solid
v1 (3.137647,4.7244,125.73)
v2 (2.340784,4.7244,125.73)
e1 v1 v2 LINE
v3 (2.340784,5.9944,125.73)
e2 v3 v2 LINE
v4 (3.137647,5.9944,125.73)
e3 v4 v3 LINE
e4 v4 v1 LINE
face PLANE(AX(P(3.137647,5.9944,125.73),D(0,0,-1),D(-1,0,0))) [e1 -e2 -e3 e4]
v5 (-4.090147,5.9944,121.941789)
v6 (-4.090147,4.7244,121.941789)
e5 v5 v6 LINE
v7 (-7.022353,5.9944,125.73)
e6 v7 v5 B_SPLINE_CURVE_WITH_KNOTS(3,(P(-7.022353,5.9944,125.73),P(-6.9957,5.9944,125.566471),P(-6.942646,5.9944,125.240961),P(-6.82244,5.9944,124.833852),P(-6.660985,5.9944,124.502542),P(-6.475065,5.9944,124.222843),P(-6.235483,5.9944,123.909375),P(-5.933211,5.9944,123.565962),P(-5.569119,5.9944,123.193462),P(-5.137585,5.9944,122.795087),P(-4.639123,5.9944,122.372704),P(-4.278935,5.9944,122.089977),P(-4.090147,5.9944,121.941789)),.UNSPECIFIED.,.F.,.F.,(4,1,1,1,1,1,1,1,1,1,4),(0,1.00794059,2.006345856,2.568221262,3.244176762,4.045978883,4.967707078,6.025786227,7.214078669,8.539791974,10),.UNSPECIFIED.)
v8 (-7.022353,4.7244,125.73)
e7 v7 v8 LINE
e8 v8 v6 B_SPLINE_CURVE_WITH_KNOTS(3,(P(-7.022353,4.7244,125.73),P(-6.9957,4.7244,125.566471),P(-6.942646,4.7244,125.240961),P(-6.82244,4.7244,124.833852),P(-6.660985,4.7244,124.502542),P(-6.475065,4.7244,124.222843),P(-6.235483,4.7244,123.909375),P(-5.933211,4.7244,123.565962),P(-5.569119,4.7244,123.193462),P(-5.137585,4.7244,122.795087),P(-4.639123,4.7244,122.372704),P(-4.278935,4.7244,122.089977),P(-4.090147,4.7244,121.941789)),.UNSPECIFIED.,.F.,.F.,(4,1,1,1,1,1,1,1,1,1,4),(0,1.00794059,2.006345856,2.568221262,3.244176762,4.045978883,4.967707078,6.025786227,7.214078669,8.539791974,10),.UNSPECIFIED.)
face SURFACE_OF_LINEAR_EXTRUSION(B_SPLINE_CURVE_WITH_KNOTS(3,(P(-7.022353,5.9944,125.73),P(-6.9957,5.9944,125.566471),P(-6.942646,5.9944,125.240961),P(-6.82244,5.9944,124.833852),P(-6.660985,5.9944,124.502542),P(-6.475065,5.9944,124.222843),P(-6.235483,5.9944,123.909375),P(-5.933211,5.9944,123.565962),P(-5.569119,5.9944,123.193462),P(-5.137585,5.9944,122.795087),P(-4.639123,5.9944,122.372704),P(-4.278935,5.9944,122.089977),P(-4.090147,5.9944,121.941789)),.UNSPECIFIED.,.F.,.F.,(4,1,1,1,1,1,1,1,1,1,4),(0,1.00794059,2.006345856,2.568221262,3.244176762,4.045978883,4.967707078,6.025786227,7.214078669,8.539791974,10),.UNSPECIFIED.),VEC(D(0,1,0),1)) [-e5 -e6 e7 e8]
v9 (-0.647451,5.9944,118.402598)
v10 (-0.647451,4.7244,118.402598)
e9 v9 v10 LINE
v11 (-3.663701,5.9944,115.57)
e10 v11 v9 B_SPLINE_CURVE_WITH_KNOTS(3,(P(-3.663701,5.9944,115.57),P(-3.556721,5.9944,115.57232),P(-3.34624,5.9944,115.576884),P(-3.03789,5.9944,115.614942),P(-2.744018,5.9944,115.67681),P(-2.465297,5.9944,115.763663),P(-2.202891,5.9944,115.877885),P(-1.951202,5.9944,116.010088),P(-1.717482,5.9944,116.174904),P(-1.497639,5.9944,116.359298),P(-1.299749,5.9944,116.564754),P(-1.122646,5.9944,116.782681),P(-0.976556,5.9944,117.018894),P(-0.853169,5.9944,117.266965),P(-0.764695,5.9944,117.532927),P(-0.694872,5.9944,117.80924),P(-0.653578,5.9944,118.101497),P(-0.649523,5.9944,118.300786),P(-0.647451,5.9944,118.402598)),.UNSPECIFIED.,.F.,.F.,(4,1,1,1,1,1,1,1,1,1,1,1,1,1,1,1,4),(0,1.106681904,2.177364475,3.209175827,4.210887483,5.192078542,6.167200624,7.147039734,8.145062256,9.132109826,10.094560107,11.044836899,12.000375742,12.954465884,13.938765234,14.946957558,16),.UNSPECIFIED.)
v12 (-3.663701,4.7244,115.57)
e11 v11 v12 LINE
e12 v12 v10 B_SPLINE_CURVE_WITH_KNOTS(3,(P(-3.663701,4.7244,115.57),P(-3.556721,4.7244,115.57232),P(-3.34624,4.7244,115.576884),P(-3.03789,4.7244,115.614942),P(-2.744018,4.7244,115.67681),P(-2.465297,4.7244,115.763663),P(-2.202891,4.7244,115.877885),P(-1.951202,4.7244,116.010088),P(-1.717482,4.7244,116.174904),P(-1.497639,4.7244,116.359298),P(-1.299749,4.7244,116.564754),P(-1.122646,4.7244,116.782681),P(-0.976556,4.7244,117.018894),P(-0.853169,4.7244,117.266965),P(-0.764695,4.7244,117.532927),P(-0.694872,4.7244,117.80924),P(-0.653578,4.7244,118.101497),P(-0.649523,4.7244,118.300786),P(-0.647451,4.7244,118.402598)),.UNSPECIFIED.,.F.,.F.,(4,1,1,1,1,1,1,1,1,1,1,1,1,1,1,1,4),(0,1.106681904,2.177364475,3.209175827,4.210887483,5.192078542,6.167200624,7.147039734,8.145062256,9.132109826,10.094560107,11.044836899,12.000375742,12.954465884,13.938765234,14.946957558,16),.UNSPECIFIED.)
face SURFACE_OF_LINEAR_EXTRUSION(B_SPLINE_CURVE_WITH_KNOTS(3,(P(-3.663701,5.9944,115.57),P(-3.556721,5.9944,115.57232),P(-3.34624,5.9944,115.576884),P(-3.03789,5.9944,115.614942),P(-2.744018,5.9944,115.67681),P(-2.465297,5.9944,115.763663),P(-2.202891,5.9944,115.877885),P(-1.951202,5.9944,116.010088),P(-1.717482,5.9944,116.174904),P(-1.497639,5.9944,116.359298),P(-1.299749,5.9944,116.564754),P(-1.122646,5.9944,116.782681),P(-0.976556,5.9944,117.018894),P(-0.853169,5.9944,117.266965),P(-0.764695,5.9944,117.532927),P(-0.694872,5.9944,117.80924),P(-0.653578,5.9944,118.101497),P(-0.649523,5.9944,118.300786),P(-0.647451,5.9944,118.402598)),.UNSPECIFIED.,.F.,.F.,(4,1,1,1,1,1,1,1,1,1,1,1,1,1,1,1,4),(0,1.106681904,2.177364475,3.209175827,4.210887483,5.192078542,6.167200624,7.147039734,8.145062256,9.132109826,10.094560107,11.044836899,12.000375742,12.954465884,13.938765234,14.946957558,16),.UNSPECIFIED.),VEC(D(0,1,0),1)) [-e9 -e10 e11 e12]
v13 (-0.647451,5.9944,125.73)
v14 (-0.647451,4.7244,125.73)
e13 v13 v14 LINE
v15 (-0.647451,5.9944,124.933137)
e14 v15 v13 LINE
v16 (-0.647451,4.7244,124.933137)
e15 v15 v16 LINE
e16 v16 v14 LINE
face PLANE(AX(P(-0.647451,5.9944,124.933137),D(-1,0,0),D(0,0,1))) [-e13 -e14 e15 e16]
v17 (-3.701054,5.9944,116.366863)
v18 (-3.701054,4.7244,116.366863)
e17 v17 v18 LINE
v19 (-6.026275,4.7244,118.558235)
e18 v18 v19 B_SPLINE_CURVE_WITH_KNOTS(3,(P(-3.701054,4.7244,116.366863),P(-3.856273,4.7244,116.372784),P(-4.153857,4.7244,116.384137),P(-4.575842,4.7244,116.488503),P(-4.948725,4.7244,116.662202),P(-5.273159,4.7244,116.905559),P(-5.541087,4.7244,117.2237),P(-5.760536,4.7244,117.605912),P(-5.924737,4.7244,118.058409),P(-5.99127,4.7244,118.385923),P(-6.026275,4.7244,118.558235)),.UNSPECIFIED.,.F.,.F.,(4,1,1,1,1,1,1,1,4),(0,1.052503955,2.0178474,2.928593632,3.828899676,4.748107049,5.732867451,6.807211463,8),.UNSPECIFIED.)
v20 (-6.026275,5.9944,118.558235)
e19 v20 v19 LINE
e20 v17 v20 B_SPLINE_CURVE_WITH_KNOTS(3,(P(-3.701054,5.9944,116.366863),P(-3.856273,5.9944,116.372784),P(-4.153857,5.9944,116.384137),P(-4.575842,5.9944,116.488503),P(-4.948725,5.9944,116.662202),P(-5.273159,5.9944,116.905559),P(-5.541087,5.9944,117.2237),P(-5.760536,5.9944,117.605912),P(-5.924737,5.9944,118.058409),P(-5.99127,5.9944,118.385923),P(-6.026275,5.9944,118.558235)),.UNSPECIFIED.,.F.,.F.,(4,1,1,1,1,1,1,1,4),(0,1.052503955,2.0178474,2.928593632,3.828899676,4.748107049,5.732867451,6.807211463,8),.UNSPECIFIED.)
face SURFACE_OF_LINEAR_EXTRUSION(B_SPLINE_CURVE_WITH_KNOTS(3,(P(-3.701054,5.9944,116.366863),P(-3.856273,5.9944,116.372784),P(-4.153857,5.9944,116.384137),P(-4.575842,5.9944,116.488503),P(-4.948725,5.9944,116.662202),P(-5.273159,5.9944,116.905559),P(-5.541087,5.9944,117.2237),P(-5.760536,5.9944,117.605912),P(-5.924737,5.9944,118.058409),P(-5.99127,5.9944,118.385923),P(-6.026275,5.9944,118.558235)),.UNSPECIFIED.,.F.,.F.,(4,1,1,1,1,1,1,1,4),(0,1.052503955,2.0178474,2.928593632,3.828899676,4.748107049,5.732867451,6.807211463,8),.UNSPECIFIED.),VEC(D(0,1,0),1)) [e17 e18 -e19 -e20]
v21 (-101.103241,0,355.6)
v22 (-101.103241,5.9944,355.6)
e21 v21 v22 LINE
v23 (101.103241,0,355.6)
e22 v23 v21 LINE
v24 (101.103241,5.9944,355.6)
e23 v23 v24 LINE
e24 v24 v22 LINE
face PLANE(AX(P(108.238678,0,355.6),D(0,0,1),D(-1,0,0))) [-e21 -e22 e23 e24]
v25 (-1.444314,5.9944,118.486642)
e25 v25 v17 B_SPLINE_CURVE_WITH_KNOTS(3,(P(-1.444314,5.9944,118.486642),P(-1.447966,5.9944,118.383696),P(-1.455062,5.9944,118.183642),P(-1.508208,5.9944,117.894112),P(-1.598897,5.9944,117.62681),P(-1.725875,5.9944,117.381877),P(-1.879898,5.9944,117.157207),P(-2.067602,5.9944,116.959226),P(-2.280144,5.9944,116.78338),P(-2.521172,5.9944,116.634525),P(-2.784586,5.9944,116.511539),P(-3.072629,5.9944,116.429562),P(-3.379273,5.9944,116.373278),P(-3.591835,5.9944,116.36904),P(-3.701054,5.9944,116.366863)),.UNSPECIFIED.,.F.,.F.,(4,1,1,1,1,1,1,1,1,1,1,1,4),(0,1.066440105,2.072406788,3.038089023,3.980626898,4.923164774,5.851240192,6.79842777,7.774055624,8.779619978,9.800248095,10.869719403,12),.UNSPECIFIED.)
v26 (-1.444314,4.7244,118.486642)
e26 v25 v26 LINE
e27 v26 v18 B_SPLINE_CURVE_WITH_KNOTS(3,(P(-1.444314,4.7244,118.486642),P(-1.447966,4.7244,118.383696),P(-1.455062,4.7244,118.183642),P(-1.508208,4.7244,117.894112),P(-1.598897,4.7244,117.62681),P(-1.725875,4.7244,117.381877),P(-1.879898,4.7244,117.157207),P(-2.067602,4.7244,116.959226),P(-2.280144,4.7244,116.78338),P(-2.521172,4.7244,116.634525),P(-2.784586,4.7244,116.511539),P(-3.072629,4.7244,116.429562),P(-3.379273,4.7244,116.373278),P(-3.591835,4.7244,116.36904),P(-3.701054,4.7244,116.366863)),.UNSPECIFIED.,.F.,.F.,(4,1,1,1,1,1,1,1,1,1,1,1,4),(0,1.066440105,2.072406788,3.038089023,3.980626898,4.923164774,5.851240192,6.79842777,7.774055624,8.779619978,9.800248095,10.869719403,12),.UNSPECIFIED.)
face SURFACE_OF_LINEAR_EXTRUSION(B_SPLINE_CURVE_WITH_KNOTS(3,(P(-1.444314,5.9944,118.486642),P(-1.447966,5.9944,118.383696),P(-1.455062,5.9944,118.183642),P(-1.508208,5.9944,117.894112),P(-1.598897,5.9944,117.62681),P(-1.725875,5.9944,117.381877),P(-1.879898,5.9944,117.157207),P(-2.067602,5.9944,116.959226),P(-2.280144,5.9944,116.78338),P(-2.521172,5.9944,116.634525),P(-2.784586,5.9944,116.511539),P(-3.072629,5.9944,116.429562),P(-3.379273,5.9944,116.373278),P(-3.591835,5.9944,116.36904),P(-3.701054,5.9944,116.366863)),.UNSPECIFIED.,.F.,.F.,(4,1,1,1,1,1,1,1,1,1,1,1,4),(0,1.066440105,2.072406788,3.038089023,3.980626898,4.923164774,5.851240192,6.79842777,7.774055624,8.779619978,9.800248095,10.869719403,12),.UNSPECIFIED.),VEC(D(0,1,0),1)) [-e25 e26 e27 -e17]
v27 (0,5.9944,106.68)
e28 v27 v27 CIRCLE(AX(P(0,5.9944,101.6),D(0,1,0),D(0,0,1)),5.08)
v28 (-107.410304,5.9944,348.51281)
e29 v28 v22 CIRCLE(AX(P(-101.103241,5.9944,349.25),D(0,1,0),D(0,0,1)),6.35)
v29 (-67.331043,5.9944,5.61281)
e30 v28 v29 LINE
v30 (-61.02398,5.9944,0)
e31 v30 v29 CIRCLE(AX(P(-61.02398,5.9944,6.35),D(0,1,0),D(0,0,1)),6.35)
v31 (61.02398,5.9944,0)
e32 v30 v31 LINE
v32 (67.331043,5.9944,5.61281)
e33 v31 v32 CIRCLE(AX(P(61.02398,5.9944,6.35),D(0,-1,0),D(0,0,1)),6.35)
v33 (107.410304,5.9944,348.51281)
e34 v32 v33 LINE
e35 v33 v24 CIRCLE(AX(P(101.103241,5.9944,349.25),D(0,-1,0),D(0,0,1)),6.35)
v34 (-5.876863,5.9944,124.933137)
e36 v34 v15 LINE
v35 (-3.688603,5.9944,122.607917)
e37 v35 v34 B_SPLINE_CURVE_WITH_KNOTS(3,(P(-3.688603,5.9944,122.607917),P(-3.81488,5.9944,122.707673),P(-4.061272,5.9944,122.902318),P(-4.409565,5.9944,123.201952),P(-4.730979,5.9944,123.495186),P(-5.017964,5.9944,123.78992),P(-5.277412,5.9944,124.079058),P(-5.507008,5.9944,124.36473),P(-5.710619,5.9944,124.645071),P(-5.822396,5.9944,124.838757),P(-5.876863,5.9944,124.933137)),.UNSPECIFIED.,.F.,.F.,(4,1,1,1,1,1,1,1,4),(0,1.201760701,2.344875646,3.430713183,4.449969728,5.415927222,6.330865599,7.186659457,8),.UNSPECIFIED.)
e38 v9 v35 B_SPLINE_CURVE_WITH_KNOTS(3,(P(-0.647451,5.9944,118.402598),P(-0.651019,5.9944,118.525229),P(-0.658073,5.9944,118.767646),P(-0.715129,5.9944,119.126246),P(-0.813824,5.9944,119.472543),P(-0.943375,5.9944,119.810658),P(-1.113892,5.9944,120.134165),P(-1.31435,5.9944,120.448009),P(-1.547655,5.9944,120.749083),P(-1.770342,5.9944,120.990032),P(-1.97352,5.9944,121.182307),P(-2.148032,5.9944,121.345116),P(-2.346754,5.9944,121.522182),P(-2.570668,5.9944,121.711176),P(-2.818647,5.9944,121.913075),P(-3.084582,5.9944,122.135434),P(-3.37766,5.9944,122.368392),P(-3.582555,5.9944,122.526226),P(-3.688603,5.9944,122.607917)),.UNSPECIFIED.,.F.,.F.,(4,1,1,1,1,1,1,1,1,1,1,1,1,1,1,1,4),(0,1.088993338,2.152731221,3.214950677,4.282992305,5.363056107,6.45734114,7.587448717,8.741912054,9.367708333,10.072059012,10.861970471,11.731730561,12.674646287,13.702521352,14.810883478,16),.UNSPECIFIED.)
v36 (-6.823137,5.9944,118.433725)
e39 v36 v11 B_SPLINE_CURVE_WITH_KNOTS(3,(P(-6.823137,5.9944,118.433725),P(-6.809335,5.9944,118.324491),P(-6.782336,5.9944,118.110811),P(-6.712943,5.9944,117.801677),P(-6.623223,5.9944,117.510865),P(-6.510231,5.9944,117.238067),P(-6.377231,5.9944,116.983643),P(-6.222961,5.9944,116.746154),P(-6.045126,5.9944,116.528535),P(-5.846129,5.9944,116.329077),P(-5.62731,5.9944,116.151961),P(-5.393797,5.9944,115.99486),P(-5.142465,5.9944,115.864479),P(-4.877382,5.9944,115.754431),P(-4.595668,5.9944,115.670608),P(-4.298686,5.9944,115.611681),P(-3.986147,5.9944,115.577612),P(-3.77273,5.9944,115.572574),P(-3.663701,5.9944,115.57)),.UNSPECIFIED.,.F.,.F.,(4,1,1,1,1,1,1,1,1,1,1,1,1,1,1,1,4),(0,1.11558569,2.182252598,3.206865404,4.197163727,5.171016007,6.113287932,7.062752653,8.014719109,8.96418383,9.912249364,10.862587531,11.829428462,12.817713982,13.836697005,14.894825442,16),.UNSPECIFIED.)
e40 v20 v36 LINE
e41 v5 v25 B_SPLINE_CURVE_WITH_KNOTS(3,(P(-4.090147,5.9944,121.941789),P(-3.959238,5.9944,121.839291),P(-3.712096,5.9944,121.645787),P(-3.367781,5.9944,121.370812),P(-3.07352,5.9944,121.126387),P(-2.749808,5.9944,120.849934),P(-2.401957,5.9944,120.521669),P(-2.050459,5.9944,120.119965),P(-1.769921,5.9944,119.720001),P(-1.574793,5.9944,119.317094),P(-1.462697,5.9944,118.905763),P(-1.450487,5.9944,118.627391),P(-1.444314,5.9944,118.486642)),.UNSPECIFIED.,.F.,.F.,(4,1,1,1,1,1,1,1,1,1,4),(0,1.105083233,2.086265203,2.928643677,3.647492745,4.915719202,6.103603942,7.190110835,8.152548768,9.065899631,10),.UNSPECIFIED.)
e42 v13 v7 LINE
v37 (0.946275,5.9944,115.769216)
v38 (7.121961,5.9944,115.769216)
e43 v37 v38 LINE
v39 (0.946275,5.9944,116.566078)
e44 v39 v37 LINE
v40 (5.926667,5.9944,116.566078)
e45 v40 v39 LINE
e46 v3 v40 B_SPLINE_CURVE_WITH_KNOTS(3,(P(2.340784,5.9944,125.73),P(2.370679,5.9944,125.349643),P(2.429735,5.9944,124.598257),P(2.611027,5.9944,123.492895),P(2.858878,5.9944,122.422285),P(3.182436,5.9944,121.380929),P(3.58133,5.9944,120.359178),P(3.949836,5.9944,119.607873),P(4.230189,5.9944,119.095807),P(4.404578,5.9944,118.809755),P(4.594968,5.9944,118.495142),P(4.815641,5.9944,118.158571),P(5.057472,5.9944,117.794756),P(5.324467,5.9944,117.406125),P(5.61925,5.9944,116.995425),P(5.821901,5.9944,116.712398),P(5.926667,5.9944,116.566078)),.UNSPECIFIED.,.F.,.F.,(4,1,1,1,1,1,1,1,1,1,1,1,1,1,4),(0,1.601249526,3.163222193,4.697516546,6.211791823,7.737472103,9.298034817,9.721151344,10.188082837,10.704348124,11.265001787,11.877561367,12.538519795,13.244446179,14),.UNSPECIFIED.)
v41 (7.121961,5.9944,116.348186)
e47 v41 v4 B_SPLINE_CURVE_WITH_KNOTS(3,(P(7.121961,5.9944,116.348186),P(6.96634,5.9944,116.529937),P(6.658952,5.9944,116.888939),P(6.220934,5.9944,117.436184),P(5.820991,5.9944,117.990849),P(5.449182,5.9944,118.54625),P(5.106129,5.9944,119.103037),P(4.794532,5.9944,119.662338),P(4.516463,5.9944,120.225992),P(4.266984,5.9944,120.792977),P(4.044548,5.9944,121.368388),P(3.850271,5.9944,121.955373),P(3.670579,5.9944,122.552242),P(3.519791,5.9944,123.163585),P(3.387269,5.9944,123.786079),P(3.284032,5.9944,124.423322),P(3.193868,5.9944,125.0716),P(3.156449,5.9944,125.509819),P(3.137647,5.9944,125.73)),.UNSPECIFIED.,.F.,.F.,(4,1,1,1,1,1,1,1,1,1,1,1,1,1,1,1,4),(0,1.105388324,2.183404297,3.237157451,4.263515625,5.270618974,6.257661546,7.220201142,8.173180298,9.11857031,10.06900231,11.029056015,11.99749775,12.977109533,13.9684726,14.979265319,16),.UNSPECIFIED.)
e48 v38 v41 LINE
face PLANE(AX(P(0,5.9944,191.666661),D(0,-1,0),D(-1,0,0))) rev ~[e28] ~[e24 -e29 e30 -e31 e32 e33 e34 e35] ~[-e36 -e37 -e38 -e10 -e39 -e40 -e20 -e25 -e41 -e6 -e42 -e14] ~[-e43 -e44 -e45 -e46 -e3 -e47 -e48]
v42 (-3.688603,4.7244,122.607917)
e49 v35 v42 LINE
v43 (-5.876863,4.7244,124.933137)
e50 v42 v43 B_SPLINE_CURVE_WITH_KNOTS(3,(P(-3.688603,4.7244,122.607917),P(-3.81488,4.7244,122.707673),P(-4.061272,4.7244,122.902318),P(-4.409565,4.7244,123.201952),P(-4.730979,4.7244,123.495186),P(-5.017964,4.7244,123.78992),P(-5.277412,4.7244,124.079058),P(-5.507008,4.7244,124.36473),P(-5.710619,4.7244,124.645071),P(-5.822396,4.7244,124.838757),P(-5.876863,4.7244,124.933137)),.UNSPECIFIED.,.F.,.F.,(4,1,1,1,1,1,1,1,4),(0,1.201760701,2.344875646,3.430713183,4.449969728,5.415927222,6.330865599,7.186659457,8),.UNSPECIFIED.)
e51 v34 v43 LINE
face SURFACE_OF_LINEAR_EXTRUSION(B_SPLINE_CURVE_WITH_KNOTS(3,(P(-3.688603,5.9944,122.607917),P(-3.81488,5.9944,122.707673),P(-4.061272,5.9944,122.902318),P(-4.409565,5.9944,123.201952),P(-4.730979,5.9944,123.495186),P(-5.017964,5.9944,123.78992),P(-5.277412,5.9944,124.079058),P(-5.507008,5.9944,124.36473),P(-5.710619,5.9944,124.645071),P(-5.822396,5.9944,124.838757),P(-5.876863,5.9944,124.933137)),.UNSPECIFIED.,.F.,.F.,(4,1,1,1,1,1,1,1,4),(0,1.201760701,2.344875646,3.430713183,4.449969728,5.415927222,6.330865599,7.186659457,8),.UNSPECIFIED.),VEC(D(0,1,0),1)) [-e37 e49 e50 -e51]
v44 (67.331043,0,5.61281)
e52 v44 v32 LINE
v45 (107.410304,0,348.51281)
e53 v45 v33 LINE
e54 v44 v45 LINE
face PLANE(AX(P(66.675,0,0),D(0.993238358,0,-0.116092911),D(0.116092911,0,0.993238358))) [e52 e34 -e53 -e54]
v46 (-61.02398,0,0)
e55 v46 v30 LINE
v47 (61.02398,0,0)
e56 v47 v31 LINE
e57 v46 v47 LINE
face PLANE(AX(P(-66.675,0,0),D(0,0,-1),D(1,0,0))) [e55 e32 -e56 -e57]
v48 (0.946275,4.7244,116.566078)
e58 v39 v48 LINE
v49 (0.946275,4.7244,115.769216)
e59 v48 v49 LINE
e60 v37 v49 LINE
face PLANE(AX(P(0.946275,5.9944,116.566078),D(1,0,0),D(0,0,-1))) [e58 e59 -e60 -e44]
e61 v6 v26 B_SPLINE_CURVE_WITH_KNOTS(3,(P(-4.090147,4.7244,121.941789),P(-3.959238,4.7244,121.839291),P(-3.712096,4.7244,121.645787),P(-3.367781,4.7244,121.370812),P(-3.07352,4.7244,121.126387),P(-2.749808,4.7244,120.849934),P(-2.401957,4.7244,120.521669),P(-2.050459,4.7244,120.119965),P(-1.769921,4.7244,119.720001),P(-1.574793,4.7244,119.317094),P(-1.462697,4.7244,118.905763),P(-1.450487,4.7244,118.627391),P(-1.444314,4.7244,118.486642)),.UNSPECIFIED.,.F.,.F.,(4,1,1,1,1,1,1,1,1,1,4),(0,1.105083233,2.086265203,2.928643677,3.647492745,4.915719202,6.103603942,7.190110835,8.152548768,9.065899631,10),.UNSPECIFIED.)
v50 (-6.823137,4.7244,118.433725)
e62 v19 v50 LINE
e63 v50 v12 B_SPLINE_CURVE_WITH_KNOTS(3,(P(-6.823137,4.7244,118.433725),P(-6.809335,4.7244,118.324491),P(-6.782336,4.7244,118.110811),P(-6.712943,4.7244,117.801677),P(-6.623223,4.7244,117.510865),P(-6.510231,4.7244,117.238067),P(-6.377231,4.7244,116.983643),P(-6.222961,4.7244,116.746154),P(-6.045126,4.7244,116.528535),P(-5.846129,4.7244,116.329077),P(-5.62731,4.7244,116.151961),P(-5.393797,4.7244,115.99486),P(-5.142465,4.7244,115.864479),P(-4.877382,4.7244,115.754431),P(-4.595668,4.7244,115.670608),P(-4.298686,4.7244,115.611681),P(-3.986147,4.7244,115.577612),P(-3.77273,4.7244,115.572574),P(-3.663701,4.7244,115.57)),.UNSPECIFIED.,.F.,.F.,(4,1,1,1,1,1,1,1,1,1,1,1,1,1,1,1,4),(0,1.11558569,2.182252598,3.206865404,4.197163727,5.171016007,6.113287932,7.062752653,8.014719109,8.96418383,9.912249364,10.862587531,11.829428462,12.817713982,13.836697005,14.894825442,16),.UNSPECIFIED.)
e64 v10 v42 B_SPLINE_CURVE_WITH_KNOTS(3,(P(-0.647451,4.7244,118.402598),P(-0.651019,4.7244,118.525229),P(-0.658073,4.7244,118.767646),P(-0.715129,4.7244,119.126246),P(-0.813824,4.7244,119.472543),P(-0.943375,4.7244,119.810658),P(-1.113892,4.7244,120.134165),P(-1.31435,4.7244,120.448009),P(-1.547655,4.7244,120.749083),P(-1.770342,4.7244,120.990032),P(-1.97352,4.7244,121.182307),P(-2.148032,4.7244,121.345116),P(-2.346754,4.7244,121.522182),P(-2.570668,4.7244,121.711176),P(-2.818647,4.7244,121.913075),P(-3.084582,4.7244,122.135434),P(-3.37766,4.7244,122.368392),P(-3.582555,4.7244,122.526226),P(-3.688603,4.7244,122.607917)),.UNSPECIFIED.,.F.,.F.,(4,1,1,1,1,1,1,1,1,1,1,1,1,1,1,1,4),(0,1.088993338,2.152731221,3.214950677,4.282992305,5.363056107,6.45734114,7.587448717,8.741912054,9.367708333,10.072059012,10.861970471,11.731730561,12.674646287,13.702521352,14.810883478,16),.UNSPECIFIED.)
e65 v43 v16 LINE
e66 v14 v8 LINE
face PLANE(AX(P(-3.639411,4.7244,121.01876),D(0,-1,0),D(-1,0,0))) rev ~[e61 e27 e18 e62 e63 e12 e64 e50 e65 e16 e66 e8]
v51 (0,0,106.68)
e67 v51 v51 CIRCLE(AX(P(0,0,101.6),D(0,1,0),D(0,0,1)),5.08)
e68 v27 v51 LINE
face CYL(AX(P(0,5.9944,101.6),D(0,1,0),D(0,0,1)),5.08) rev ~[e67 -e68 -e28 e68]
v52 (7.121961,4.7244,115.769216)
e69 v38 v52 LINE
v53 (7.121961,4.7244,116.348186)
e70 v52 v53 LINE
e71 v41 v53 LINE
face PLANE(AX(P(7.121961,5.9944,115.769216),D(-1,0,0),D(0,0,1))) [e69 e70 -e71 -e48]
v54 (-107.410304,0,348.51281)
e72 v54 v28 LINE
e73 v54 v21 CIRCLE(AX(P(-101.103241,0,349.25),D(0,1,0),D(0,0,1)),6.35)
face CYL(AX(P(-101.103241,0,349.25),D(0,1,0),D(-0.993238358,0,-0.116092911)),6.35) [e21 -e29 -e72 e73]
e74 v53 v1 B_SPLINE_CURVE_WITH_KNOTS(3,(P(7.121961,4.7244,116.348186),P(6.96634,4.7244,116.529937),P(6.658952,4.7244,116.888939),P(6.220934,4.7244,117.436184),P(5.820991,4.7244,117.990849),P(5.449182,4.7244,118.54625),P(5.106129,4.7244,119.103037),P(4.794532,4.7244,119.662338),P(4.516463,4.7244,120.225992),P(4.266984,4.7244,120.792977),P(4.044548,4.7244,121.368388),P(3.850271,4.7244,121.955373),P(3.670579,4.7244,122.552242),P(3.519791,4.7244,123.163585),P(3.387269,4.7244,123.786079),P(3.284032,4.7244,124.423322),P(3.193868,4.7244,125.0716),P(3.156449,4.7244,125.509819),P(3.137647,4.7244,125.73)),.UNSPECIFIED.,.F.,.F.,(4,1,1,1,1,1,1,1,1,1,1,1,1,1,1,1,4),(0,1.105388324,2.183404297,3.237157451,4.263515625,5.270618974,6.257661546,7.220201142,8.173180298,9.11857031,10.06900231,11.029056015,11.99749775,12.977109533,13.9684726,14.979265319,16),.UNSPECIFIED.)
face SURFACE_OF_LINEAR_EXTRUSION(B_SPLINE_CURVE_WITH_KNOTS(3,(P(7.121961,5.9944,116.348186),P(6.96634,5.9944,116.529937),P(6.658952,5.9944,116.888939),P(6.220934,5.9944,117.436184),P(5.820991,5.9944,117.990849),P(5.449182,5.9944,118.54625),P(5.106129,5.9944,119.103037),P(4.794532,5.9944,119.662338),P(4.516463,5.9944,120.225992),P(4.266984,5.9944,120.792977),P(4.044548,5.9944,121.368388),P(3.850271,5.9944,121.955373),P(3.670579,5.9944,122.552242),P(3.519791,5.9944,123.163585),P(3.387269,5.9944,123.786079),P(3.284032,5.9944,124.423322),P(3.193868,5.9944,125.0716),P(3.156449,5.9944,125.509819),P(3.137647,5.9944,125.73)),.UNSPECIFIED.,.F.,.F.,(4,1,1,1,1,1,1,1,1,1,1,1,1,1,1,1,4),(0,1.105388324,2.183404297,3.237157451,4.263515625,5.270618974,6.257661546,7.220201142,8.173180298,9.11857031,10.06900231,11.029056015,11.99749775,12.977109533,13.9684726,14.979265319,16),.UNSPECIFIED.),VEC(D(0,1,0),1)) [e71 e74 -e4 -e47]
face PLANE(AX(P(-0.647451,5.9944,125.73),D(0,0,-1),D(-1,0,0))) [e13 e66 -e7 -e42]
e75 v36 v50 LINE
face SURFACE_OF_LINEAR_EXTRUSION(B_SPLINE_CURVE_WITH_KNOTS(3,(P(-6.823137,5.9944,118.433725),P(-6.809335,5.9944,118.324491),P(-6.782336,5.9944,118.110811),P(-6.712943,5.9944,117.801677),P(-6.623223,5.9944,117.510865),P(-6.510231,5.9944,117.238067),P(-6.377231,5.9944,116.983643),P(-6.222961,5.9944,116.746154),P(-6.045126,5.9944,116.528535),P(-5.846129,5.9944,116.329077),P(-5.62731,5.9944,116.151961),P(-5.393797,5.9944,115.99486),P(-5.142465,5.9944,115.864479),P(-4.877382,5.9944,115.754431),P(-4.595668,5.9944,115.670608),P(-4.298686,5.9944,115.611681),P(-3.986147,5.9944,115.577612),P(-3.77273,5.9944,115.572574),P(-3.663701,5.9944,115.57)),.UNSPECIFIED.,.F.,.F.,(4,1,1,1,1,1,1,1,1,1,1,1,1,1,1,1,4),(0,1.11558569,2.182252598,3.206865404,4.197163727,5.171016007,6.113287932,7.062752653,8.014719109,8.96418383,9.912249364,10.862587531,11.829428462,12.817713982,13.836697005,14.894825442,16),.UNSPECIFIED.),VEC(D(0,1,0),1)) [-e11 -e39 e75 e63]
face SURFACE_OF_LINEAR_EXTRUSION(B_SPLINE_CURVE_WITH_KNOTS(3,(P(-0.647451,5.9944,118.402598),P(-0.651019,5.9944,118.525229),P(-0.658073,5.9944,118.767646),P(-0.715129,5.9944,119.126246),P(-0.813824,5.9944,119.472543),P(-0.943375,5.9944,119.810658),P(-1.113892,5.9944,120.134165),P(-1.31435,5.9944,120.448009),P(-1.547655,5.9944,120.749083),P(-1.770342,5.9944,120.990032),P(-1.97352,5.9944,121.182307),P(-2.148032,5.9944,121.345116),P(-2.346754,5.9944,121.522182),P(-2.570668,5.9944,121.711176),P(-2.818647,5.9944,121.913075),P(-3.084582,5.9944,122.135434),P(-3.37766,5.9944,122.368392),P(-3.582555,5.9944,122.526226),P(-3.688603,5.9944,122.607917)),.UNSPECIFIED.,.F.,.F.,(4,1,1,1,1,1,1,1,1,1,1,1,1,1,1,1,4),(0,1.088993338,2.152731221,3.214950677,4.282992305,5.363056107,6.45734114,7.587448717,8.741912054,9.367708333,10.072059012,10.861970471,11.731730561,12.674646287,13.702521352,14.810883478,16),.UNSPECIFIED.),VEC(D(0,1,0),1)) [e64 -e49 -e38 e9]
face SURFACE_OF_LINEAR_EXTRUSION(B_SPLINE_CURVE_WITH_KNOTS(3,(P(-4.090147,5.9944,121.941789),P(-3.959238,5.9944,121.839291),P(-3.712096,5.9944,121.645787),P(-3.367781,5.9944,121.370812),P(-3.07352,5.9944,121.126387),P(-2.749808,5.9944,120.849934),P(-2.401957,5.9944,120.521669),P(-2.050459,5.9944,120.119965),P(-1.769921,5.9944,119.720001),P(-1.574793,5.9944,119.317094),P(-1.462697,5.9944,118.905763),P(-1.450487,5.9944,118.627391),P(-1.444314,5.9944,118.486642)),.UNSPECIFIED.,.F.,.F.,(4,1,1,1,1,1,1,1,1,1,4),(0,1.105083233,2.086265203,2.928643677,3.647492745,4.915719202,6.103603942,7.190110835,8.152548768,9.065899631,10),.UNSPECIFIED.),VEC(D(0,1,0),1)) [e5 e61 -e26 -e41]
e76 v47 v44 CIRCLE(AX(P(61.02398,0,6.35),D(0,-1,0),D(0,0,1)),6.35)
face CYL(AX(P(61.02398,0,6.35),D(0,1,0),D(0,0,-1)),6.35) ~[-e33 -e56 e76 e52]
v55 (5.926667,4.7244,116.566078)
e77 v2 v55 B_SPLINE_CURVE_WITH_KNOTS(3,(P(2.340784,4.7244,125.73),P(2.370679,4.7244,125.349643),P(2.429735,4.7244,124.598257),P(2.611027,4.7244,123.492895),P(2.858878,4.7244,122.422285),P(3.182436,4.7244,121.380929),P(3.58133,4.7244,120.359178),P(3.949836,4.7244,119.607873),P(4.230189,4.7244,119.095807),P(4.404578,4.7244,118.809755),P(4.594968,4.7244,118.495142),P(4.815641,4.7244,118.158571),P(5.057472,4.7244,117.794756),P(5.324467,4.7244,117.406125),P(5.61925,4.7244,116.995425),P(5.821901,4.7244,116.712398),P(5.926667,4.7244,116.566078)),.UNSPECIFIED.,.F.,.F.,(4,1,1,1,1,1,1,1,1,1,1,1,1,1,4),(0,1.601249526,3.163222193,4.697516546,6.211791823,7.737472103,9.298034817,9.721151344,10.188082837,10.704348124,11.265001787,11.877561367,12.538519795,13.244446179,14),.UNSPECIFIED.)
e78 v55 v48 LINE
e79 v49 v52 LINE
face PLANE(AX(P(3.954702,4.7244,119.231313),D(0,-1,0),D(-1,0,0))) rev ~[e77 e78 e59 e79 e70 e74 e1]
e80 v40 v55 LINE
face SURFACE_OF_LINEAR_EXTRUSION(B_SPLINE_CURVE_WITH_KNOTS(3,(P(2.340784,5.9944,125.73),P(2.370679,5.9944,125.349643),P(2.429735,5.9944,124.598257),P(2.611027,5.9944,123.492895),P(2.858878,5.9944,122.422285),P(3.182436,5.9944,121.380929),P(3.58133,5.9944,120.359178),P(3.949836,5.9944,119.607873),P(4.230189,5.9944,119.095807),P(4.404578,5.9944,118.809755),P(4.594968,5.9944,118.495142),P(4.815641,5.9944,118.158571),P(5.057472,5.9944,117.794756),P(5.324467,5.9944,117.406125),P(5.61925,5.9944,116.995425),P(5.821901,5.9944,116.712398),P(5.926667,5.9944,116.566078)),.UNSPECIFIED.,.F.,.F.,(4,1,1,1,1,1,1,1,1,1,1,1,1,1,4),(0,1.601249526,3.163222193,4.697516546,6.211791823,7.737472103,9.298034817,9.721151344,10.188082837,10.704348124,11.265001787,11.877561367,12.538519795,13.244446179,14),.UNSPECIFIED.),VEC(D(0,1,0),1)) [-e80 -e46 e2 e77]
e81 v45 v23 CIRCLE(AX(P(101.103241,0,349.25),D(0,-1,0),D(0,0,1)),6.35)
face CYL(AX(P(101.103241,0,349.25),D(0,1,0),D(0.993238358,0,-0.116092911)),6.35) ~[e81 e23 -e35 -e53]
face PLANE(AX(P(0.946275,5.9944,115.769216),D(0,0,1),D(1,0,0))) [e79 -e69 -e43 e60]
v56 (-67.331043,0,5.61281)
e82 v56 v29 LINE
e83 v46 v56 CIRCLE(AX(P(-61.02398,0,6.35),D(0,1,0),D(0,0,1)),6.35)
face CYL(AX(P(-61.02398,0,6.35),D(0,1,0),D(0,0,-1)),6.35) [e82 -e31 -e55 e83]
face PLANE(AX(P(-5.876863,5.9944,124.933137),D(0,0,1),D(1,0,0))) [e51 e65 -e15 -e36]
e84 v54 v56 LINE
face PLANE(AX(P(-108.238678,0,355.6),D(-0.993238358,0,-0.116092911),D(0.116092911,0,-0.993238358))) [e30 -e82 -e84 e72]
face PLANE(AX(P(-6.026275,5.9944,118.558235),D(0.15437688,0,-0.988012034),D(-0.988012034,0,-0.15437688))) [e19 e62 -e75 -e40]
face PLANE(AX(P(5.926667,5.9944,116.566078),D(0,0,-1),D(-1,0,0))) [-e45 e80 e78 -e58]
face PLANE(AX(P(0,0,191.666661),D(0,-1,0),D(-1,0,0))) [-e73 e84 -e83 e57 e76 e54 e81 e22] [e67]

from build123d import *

# Parameters (mm, degrees)
BOSS_EXTRUDE1_DEPTH = 5.9944
SKETCH2_R           = 5.08
CUT_EXTRUDE1_DEPTH  = 372.756512027
CUT_EXTRUDE2_DEPTH  = 1.27
FILLET1_R           = 6.35


with BuildPart() as part:
    # Sketch1 → Boss-Extrude1 (new body)
    with BuildSketch(Plane(origin=(0, 0, 0), x_dir=(1, 0, 0), z_dir=(0, 1, 0))):
        Polygon((-66.675, 0), (66.675, 0), (108.238677943, -355.6), (-108.238677943, -355.6), align=None)
    extrude(amount=BOSS_EXTRUDE1_DEPTH)

    # Sketch2 → Cut-Extrude1 (cut, through all)
    with BuildSketch(Plane(origin=(0, 5.9944, 0), x_dir=(1, 0, 0), z_dir=(0, 1, 0))):
        with Locations(Location((0, -101.6, 0), (0, 0, 270))):
            Circle(SKETCH2_R)
    extrude(amount=-CUT_EXTRUDE1_DEPTH, mode=Mode.SUBTRACT)

    # Sketch3 → Cut-Extrude2 (cut)
    with BuildSketch(Plane(origin=(0, 5.9944, 0), x_dir=(1, 0, 0), z_dir=(0, 1, 0))):
        with BuildLine():
            Line((-0.64745098, -125.73), (-7.022352941, -125.73))
            add(Edge.make_bspline(
                [(-7.022352941, -125.73), (-6.995700037, -125.56647139), (-6.94264637, -125.240961184), (-6.822439521, -124.833851847), (-6.660985096, -124.502541973), (-6.475064564, -124.222842773), (-6.235482524, -123.909374898), (-5.933210944, -123.565961589), (-5.569119359, -123.193461978), (-5.137584514, -122.795086731), (-4.639123135, -122.372704423), (-4.278935295, -122.089977316), (-4.090147059, -121.941789216)],
                knots=[0, 0, 0, 0, 1.00794059, 2.006345856, 2.568221262, 3.244176762, 4.045978883, 4.967707078, 6.025786227, 7.214078669, 8.539791974, 10, 10, 10, 10], degree=3))
            add(Edge.make_bspline(
                [(-4.090147059, -121.941789216), (-3.959237505, -121.839291022), (-3.712095896, -121.645786669), (-3.367780634, -121.370812364), (-3.073520037, -121.12638684), (-2.749807849, -120.849934026), (-2.401956914, -120.521669006), (-2.050459284, -120.119964738), (-1.769921232, -119.720001197), (-1.574792785, -119.317093709), (-1.462696622, -118.90576348), (-1.450487068, -118.627391436), (-1.444313725, -118.486642157)],
                knots=[0, 0, 0, 0, 1.105083233, 2.086265203, 2.928643677, 3.647492745, 4.915719202, 6.103603942, 7.190110835, 8.152548768, 9.065899631, 10, 10, 10, 10], degree=3))
            add(Edge.make_bspline(
                [(-1.444313725, -118.486642157), (-1.447965678, -118.383696155), (-1.455062496, -118.183641793), (-1.508208178, -117.89411156), (-1.598896834, -117.626810225), (-1.725875028, -117.381877206), (-1.879897972, -117.157206868), (-2.067602091, -116.959226462), (-2.280144186, -116.783379567), (-2.521172126, -116.634524628), (-2.784585903, -116.511539466), (-3.072628503, -116.429562416), (-3.379272721, -116.373277743), (-3.591834853, -116.369040126), (-3.701053922, -116.366862745)],
                knots=[0, 0, 0, 0, 1.066440105, 2.072406788, 3.038089023, 3.980626898, 4.923164774, 5.851240192, 6.79842777, 7.774055624, 8.779619978, 9.800248095, 10.869719403, 12, 12, 12, 12], degree=3))
            add(Edge.make_bspline(
                [(-3.701053922, -116.366862745), (-3.856272912, -116.372784339), (-4.153856816, -116.384137145), (-4.575842478, -116.488503349), (-4.94872481, -116.662202163), (-5.273158686, -116.90555858), (-5.541086806, -117.223699711), (-5.760536331, -117.605911882), (-5.924737114, -118.058408876), (-5.991270058, -118.385922919), (-6.02627451, -118.558235294)],
                knots=[0, 0, 0, 0, 1.052503955, 2.0178474, 2.928593632, 3.828899676, 4.748107049, 5.732867451, 6.807211463, 8, 8, 8, 8], degree=3))
            Line((-6.02627451, -118.558235294), (-6.823137255, -118.43372549))
            add(Edge.make_bspline(
                [(-6.823137255, -118.43372549), (-6.80933515, -118.324490516), (-6.782336166, -118.110810556), (-6.71294302, -117.80167694), (-6.623223382, -117.510865089), (-6.510230906, -117.238067127), (-6.37723078, -116.983643092), (-6.222961391, -116.746154212), (-6.045126303, -116.528535029), (-5.846128896, -116.329076963), (-5.627309849, -116.151961167), (-5.393797446, -115.994859502), (-5.142464654, -115.86447923), (-4.877381927, -115.754431463), (-4.595667611, -115.670607699), (-4.298686261, -115.611680986), (-3.986147006, -115.577611658), (-3.772730074, -115.57257374), (-3.66370098, -115.57)],
                knots=[0, 0, 0, 0, 1.11558569, 2.182252598, 3.206865404, 4.197163727, 5.171016007, 6.113287932, 7.062752653, 8.014719109, 8.96418383, 9.912249364, 10.862587531, 11.829428462, 12.817713982, 13.836697005, 14.894825442, 16, 16, 16, 16], degree=3))
            add(Edge.make_bspline(
                [(-3.66370098, -115.57), (-3.556720592, -115.572319789), (-3.346239788, -115.576883907), (-3.037889894, -115.614942211), (-2.744018161, -115.6768103), (-2.465296832, -115.763662981), (-2.202890774, -115.877884746), (-1.951202346, -116.010088278), (-1.717482433, -116.17490368), (-1.497639325, -116.359297976), (-1.299748734, -116.564753592), (-1.122645846, -116.782681404), (-0.976555662, -117.018893798), (-0.853169483, -117.266964655), (-0.764695454, -117.53292748), (-0.694872253, -117.809240088), (-0.653577585, -118.101497133), (-0.649522593, -118.30078564), (-0.64745098, -118.402598039)],
                knots=[0, 0, 0, 0, 1.106681904, 2.177364475, 3.209175827, 4.210887483, 5.192078542, 6.167200624, 7.147039734, 8.145062256, 9.132109826, 10.094560107, 11.044836899, 12.000375742, 12.954465884, 13.938765234, 14.946957558, 16, 16, 16, 16], degree=3))
            add(Edge.make_bspline(
                [(-0.64745098, -118.402598039), (-0.651019305, -118.525228757), (-0.6580732, -118.767646194), (-0.715129167, -119.12624646), (-0.813824447, -119.47254261), (-0.943374808, -119.810657932), (-1.113892336, -120.134164725), (-1.314350095, -120.448008584), (-1.547654564, -120.749083332), (-1.770342076, -120.99003171), (-1.97351953, -121.182307301), (-2.148031694, -121.345116208), (-2.346754424, -121.522181935), (-2.570668292, -121.711175794), (-2.818646639, -121.913074715), (-3.084581883, -122.135434202), (-3.377659732, -122.368392422), (-3.582554579, -122.526226013), (-3.688602941, -122.607916667)],
                knots=[0, 0, 0, 0, 1.088993338, 2.152731221, 3.214950677, 4.282992305, 5.363056107, 6.45734114, 7.587448717, 8.741912054, 9.367708333, 10.072059012, 10.861970471, 11.731730561, 12.674646287, 13.702521352, 14.810883478, 16, 16, 16, 16], degree=3))
            add(Edge.make_bspline(
                [(-3.688602941, -122.607916667), (-3.814880187, -122.707673071), (-4.061272368, -122.90231778), (-4.409564614, -123.201952264), (-4.73097902, -123.495186281), (-5.017964452, -123.789920338), (-5.277411759, -124.07905832), (-5.50700849, -124.36473001), (-5.710619134, -124.64507084), (-5.822395863, -124.838757211), (-5.876862745, -124.933137255)],
                knots=[0, 0, 0, 0, 1.201760701, 2.344875646, 3.430713183, 4.449969728, 5.415927222, 6.330865599, 7.186659457, 8, 8, 8, 8], degree=3))
            Line((-5.876862745, -124.933137255), (-0.64745098, -124.933137255))
            Line((-0.64745098, -124.933137255), (-0.64745098, -125.73))
        make_face()
        with BuildLine():
            add(Edge.make_bspline(
                [(7.121960784, -116.348186275), (6.966339865, -116.529937257), (6.658951614, -116.888938584), (6.220934138, -117.43618394), (5.820990618, -117.99084912), (5.449181724, -118.546249507), (5.106128688, -119.103037308), (4.794532343, -119.662337897), (4.516462749, -120.225992354), (4.26698415, -120.792977059), (4.044548147, -121.3683878), (3.850270964, -121.955372575), (3.67057882, -122.552241729), (3.519790538, -123.16358515), (3.387268651, -123.786079212), (3.284032091, -124.423321677), (3.193868357, -125.071600422), (3.156448534, -125.509818618), (3.137647059, -125.73)],
                knots=[0, 0, 0, 0, 1.105388324, 2.183404297, 3.237157451, 4.263515625, 5.270618974, 6.257661546, 7.220201142, 8.173180298, 9.11857031, 10.06900231, 11.029056015, 11.99749775, 12.977109533, 13.9684726, 14.979265319, 16, 16, 16, 16], degree=3))
            Line((3.137647059, -125.73), (2.340784314, -125.73))
            add(Edge.make_bspline(
                [(2.340784314, -125.73), (2.370678975, -125.349642584), (2.429735016, -124.598257492), (2.61102689, -123.492894729), (2.858878127, -122.422284677), (3.182435664, -121.380929429), (3.581330157, -120.3591781), (3.949835575, -119.60787323), (4.230188707, -119.095806913), (4.404577952, -118.809755188), (4.594967573, -118.495142394), (4.815641098, -118.158570547), (5.057471949, -117.794755527), (5.324466786, -117.406124805), (5.619249624, -116.995425039), (5.821900516, -116.712397552), (5.926666667, -116.566078431)],
                knots=[0, 0, 0, 0, 1.601249526, 3.163222193, 4.697516546, 6.211791823, 7.737472103, 9.298034817, 9.721151344, 10.188082837, 10.704348124, 11.265001787, 11.877561367, 12.538519795, 13.244446179, 14, 14, 14, 14], degree=3))
            Line((5.926666667, -116.566078431), (0.94627451, -116.566078431))
            Line((0.94627451, -116.566078431), (0.94627451, -115.769215686))
            Line((0.94627451, -115.769215686), (7.121960784, -115.769215686))
            Line((7.121960784, -115.769215686), (7.121960784, -116.348186275))
        make_face()
    extrude(amount=-CUT_EXTRUDE2_DEPTH, mode=Mode.SUBTRACT)

    # Fillet1
    fillet1_edges = [part.edges().sort_by_distance(p)[0] for p in [
        (108.238677943, 2.9972, 355.6),
        (-108.238677943, 2.9972, 355.6),
        (-66.675, 2.9972, 0),
        (66.675, 2.9972, 0),
    ]]
    fillet(fillet1_edges, radius=FILLET1_R)


solid = part.part
